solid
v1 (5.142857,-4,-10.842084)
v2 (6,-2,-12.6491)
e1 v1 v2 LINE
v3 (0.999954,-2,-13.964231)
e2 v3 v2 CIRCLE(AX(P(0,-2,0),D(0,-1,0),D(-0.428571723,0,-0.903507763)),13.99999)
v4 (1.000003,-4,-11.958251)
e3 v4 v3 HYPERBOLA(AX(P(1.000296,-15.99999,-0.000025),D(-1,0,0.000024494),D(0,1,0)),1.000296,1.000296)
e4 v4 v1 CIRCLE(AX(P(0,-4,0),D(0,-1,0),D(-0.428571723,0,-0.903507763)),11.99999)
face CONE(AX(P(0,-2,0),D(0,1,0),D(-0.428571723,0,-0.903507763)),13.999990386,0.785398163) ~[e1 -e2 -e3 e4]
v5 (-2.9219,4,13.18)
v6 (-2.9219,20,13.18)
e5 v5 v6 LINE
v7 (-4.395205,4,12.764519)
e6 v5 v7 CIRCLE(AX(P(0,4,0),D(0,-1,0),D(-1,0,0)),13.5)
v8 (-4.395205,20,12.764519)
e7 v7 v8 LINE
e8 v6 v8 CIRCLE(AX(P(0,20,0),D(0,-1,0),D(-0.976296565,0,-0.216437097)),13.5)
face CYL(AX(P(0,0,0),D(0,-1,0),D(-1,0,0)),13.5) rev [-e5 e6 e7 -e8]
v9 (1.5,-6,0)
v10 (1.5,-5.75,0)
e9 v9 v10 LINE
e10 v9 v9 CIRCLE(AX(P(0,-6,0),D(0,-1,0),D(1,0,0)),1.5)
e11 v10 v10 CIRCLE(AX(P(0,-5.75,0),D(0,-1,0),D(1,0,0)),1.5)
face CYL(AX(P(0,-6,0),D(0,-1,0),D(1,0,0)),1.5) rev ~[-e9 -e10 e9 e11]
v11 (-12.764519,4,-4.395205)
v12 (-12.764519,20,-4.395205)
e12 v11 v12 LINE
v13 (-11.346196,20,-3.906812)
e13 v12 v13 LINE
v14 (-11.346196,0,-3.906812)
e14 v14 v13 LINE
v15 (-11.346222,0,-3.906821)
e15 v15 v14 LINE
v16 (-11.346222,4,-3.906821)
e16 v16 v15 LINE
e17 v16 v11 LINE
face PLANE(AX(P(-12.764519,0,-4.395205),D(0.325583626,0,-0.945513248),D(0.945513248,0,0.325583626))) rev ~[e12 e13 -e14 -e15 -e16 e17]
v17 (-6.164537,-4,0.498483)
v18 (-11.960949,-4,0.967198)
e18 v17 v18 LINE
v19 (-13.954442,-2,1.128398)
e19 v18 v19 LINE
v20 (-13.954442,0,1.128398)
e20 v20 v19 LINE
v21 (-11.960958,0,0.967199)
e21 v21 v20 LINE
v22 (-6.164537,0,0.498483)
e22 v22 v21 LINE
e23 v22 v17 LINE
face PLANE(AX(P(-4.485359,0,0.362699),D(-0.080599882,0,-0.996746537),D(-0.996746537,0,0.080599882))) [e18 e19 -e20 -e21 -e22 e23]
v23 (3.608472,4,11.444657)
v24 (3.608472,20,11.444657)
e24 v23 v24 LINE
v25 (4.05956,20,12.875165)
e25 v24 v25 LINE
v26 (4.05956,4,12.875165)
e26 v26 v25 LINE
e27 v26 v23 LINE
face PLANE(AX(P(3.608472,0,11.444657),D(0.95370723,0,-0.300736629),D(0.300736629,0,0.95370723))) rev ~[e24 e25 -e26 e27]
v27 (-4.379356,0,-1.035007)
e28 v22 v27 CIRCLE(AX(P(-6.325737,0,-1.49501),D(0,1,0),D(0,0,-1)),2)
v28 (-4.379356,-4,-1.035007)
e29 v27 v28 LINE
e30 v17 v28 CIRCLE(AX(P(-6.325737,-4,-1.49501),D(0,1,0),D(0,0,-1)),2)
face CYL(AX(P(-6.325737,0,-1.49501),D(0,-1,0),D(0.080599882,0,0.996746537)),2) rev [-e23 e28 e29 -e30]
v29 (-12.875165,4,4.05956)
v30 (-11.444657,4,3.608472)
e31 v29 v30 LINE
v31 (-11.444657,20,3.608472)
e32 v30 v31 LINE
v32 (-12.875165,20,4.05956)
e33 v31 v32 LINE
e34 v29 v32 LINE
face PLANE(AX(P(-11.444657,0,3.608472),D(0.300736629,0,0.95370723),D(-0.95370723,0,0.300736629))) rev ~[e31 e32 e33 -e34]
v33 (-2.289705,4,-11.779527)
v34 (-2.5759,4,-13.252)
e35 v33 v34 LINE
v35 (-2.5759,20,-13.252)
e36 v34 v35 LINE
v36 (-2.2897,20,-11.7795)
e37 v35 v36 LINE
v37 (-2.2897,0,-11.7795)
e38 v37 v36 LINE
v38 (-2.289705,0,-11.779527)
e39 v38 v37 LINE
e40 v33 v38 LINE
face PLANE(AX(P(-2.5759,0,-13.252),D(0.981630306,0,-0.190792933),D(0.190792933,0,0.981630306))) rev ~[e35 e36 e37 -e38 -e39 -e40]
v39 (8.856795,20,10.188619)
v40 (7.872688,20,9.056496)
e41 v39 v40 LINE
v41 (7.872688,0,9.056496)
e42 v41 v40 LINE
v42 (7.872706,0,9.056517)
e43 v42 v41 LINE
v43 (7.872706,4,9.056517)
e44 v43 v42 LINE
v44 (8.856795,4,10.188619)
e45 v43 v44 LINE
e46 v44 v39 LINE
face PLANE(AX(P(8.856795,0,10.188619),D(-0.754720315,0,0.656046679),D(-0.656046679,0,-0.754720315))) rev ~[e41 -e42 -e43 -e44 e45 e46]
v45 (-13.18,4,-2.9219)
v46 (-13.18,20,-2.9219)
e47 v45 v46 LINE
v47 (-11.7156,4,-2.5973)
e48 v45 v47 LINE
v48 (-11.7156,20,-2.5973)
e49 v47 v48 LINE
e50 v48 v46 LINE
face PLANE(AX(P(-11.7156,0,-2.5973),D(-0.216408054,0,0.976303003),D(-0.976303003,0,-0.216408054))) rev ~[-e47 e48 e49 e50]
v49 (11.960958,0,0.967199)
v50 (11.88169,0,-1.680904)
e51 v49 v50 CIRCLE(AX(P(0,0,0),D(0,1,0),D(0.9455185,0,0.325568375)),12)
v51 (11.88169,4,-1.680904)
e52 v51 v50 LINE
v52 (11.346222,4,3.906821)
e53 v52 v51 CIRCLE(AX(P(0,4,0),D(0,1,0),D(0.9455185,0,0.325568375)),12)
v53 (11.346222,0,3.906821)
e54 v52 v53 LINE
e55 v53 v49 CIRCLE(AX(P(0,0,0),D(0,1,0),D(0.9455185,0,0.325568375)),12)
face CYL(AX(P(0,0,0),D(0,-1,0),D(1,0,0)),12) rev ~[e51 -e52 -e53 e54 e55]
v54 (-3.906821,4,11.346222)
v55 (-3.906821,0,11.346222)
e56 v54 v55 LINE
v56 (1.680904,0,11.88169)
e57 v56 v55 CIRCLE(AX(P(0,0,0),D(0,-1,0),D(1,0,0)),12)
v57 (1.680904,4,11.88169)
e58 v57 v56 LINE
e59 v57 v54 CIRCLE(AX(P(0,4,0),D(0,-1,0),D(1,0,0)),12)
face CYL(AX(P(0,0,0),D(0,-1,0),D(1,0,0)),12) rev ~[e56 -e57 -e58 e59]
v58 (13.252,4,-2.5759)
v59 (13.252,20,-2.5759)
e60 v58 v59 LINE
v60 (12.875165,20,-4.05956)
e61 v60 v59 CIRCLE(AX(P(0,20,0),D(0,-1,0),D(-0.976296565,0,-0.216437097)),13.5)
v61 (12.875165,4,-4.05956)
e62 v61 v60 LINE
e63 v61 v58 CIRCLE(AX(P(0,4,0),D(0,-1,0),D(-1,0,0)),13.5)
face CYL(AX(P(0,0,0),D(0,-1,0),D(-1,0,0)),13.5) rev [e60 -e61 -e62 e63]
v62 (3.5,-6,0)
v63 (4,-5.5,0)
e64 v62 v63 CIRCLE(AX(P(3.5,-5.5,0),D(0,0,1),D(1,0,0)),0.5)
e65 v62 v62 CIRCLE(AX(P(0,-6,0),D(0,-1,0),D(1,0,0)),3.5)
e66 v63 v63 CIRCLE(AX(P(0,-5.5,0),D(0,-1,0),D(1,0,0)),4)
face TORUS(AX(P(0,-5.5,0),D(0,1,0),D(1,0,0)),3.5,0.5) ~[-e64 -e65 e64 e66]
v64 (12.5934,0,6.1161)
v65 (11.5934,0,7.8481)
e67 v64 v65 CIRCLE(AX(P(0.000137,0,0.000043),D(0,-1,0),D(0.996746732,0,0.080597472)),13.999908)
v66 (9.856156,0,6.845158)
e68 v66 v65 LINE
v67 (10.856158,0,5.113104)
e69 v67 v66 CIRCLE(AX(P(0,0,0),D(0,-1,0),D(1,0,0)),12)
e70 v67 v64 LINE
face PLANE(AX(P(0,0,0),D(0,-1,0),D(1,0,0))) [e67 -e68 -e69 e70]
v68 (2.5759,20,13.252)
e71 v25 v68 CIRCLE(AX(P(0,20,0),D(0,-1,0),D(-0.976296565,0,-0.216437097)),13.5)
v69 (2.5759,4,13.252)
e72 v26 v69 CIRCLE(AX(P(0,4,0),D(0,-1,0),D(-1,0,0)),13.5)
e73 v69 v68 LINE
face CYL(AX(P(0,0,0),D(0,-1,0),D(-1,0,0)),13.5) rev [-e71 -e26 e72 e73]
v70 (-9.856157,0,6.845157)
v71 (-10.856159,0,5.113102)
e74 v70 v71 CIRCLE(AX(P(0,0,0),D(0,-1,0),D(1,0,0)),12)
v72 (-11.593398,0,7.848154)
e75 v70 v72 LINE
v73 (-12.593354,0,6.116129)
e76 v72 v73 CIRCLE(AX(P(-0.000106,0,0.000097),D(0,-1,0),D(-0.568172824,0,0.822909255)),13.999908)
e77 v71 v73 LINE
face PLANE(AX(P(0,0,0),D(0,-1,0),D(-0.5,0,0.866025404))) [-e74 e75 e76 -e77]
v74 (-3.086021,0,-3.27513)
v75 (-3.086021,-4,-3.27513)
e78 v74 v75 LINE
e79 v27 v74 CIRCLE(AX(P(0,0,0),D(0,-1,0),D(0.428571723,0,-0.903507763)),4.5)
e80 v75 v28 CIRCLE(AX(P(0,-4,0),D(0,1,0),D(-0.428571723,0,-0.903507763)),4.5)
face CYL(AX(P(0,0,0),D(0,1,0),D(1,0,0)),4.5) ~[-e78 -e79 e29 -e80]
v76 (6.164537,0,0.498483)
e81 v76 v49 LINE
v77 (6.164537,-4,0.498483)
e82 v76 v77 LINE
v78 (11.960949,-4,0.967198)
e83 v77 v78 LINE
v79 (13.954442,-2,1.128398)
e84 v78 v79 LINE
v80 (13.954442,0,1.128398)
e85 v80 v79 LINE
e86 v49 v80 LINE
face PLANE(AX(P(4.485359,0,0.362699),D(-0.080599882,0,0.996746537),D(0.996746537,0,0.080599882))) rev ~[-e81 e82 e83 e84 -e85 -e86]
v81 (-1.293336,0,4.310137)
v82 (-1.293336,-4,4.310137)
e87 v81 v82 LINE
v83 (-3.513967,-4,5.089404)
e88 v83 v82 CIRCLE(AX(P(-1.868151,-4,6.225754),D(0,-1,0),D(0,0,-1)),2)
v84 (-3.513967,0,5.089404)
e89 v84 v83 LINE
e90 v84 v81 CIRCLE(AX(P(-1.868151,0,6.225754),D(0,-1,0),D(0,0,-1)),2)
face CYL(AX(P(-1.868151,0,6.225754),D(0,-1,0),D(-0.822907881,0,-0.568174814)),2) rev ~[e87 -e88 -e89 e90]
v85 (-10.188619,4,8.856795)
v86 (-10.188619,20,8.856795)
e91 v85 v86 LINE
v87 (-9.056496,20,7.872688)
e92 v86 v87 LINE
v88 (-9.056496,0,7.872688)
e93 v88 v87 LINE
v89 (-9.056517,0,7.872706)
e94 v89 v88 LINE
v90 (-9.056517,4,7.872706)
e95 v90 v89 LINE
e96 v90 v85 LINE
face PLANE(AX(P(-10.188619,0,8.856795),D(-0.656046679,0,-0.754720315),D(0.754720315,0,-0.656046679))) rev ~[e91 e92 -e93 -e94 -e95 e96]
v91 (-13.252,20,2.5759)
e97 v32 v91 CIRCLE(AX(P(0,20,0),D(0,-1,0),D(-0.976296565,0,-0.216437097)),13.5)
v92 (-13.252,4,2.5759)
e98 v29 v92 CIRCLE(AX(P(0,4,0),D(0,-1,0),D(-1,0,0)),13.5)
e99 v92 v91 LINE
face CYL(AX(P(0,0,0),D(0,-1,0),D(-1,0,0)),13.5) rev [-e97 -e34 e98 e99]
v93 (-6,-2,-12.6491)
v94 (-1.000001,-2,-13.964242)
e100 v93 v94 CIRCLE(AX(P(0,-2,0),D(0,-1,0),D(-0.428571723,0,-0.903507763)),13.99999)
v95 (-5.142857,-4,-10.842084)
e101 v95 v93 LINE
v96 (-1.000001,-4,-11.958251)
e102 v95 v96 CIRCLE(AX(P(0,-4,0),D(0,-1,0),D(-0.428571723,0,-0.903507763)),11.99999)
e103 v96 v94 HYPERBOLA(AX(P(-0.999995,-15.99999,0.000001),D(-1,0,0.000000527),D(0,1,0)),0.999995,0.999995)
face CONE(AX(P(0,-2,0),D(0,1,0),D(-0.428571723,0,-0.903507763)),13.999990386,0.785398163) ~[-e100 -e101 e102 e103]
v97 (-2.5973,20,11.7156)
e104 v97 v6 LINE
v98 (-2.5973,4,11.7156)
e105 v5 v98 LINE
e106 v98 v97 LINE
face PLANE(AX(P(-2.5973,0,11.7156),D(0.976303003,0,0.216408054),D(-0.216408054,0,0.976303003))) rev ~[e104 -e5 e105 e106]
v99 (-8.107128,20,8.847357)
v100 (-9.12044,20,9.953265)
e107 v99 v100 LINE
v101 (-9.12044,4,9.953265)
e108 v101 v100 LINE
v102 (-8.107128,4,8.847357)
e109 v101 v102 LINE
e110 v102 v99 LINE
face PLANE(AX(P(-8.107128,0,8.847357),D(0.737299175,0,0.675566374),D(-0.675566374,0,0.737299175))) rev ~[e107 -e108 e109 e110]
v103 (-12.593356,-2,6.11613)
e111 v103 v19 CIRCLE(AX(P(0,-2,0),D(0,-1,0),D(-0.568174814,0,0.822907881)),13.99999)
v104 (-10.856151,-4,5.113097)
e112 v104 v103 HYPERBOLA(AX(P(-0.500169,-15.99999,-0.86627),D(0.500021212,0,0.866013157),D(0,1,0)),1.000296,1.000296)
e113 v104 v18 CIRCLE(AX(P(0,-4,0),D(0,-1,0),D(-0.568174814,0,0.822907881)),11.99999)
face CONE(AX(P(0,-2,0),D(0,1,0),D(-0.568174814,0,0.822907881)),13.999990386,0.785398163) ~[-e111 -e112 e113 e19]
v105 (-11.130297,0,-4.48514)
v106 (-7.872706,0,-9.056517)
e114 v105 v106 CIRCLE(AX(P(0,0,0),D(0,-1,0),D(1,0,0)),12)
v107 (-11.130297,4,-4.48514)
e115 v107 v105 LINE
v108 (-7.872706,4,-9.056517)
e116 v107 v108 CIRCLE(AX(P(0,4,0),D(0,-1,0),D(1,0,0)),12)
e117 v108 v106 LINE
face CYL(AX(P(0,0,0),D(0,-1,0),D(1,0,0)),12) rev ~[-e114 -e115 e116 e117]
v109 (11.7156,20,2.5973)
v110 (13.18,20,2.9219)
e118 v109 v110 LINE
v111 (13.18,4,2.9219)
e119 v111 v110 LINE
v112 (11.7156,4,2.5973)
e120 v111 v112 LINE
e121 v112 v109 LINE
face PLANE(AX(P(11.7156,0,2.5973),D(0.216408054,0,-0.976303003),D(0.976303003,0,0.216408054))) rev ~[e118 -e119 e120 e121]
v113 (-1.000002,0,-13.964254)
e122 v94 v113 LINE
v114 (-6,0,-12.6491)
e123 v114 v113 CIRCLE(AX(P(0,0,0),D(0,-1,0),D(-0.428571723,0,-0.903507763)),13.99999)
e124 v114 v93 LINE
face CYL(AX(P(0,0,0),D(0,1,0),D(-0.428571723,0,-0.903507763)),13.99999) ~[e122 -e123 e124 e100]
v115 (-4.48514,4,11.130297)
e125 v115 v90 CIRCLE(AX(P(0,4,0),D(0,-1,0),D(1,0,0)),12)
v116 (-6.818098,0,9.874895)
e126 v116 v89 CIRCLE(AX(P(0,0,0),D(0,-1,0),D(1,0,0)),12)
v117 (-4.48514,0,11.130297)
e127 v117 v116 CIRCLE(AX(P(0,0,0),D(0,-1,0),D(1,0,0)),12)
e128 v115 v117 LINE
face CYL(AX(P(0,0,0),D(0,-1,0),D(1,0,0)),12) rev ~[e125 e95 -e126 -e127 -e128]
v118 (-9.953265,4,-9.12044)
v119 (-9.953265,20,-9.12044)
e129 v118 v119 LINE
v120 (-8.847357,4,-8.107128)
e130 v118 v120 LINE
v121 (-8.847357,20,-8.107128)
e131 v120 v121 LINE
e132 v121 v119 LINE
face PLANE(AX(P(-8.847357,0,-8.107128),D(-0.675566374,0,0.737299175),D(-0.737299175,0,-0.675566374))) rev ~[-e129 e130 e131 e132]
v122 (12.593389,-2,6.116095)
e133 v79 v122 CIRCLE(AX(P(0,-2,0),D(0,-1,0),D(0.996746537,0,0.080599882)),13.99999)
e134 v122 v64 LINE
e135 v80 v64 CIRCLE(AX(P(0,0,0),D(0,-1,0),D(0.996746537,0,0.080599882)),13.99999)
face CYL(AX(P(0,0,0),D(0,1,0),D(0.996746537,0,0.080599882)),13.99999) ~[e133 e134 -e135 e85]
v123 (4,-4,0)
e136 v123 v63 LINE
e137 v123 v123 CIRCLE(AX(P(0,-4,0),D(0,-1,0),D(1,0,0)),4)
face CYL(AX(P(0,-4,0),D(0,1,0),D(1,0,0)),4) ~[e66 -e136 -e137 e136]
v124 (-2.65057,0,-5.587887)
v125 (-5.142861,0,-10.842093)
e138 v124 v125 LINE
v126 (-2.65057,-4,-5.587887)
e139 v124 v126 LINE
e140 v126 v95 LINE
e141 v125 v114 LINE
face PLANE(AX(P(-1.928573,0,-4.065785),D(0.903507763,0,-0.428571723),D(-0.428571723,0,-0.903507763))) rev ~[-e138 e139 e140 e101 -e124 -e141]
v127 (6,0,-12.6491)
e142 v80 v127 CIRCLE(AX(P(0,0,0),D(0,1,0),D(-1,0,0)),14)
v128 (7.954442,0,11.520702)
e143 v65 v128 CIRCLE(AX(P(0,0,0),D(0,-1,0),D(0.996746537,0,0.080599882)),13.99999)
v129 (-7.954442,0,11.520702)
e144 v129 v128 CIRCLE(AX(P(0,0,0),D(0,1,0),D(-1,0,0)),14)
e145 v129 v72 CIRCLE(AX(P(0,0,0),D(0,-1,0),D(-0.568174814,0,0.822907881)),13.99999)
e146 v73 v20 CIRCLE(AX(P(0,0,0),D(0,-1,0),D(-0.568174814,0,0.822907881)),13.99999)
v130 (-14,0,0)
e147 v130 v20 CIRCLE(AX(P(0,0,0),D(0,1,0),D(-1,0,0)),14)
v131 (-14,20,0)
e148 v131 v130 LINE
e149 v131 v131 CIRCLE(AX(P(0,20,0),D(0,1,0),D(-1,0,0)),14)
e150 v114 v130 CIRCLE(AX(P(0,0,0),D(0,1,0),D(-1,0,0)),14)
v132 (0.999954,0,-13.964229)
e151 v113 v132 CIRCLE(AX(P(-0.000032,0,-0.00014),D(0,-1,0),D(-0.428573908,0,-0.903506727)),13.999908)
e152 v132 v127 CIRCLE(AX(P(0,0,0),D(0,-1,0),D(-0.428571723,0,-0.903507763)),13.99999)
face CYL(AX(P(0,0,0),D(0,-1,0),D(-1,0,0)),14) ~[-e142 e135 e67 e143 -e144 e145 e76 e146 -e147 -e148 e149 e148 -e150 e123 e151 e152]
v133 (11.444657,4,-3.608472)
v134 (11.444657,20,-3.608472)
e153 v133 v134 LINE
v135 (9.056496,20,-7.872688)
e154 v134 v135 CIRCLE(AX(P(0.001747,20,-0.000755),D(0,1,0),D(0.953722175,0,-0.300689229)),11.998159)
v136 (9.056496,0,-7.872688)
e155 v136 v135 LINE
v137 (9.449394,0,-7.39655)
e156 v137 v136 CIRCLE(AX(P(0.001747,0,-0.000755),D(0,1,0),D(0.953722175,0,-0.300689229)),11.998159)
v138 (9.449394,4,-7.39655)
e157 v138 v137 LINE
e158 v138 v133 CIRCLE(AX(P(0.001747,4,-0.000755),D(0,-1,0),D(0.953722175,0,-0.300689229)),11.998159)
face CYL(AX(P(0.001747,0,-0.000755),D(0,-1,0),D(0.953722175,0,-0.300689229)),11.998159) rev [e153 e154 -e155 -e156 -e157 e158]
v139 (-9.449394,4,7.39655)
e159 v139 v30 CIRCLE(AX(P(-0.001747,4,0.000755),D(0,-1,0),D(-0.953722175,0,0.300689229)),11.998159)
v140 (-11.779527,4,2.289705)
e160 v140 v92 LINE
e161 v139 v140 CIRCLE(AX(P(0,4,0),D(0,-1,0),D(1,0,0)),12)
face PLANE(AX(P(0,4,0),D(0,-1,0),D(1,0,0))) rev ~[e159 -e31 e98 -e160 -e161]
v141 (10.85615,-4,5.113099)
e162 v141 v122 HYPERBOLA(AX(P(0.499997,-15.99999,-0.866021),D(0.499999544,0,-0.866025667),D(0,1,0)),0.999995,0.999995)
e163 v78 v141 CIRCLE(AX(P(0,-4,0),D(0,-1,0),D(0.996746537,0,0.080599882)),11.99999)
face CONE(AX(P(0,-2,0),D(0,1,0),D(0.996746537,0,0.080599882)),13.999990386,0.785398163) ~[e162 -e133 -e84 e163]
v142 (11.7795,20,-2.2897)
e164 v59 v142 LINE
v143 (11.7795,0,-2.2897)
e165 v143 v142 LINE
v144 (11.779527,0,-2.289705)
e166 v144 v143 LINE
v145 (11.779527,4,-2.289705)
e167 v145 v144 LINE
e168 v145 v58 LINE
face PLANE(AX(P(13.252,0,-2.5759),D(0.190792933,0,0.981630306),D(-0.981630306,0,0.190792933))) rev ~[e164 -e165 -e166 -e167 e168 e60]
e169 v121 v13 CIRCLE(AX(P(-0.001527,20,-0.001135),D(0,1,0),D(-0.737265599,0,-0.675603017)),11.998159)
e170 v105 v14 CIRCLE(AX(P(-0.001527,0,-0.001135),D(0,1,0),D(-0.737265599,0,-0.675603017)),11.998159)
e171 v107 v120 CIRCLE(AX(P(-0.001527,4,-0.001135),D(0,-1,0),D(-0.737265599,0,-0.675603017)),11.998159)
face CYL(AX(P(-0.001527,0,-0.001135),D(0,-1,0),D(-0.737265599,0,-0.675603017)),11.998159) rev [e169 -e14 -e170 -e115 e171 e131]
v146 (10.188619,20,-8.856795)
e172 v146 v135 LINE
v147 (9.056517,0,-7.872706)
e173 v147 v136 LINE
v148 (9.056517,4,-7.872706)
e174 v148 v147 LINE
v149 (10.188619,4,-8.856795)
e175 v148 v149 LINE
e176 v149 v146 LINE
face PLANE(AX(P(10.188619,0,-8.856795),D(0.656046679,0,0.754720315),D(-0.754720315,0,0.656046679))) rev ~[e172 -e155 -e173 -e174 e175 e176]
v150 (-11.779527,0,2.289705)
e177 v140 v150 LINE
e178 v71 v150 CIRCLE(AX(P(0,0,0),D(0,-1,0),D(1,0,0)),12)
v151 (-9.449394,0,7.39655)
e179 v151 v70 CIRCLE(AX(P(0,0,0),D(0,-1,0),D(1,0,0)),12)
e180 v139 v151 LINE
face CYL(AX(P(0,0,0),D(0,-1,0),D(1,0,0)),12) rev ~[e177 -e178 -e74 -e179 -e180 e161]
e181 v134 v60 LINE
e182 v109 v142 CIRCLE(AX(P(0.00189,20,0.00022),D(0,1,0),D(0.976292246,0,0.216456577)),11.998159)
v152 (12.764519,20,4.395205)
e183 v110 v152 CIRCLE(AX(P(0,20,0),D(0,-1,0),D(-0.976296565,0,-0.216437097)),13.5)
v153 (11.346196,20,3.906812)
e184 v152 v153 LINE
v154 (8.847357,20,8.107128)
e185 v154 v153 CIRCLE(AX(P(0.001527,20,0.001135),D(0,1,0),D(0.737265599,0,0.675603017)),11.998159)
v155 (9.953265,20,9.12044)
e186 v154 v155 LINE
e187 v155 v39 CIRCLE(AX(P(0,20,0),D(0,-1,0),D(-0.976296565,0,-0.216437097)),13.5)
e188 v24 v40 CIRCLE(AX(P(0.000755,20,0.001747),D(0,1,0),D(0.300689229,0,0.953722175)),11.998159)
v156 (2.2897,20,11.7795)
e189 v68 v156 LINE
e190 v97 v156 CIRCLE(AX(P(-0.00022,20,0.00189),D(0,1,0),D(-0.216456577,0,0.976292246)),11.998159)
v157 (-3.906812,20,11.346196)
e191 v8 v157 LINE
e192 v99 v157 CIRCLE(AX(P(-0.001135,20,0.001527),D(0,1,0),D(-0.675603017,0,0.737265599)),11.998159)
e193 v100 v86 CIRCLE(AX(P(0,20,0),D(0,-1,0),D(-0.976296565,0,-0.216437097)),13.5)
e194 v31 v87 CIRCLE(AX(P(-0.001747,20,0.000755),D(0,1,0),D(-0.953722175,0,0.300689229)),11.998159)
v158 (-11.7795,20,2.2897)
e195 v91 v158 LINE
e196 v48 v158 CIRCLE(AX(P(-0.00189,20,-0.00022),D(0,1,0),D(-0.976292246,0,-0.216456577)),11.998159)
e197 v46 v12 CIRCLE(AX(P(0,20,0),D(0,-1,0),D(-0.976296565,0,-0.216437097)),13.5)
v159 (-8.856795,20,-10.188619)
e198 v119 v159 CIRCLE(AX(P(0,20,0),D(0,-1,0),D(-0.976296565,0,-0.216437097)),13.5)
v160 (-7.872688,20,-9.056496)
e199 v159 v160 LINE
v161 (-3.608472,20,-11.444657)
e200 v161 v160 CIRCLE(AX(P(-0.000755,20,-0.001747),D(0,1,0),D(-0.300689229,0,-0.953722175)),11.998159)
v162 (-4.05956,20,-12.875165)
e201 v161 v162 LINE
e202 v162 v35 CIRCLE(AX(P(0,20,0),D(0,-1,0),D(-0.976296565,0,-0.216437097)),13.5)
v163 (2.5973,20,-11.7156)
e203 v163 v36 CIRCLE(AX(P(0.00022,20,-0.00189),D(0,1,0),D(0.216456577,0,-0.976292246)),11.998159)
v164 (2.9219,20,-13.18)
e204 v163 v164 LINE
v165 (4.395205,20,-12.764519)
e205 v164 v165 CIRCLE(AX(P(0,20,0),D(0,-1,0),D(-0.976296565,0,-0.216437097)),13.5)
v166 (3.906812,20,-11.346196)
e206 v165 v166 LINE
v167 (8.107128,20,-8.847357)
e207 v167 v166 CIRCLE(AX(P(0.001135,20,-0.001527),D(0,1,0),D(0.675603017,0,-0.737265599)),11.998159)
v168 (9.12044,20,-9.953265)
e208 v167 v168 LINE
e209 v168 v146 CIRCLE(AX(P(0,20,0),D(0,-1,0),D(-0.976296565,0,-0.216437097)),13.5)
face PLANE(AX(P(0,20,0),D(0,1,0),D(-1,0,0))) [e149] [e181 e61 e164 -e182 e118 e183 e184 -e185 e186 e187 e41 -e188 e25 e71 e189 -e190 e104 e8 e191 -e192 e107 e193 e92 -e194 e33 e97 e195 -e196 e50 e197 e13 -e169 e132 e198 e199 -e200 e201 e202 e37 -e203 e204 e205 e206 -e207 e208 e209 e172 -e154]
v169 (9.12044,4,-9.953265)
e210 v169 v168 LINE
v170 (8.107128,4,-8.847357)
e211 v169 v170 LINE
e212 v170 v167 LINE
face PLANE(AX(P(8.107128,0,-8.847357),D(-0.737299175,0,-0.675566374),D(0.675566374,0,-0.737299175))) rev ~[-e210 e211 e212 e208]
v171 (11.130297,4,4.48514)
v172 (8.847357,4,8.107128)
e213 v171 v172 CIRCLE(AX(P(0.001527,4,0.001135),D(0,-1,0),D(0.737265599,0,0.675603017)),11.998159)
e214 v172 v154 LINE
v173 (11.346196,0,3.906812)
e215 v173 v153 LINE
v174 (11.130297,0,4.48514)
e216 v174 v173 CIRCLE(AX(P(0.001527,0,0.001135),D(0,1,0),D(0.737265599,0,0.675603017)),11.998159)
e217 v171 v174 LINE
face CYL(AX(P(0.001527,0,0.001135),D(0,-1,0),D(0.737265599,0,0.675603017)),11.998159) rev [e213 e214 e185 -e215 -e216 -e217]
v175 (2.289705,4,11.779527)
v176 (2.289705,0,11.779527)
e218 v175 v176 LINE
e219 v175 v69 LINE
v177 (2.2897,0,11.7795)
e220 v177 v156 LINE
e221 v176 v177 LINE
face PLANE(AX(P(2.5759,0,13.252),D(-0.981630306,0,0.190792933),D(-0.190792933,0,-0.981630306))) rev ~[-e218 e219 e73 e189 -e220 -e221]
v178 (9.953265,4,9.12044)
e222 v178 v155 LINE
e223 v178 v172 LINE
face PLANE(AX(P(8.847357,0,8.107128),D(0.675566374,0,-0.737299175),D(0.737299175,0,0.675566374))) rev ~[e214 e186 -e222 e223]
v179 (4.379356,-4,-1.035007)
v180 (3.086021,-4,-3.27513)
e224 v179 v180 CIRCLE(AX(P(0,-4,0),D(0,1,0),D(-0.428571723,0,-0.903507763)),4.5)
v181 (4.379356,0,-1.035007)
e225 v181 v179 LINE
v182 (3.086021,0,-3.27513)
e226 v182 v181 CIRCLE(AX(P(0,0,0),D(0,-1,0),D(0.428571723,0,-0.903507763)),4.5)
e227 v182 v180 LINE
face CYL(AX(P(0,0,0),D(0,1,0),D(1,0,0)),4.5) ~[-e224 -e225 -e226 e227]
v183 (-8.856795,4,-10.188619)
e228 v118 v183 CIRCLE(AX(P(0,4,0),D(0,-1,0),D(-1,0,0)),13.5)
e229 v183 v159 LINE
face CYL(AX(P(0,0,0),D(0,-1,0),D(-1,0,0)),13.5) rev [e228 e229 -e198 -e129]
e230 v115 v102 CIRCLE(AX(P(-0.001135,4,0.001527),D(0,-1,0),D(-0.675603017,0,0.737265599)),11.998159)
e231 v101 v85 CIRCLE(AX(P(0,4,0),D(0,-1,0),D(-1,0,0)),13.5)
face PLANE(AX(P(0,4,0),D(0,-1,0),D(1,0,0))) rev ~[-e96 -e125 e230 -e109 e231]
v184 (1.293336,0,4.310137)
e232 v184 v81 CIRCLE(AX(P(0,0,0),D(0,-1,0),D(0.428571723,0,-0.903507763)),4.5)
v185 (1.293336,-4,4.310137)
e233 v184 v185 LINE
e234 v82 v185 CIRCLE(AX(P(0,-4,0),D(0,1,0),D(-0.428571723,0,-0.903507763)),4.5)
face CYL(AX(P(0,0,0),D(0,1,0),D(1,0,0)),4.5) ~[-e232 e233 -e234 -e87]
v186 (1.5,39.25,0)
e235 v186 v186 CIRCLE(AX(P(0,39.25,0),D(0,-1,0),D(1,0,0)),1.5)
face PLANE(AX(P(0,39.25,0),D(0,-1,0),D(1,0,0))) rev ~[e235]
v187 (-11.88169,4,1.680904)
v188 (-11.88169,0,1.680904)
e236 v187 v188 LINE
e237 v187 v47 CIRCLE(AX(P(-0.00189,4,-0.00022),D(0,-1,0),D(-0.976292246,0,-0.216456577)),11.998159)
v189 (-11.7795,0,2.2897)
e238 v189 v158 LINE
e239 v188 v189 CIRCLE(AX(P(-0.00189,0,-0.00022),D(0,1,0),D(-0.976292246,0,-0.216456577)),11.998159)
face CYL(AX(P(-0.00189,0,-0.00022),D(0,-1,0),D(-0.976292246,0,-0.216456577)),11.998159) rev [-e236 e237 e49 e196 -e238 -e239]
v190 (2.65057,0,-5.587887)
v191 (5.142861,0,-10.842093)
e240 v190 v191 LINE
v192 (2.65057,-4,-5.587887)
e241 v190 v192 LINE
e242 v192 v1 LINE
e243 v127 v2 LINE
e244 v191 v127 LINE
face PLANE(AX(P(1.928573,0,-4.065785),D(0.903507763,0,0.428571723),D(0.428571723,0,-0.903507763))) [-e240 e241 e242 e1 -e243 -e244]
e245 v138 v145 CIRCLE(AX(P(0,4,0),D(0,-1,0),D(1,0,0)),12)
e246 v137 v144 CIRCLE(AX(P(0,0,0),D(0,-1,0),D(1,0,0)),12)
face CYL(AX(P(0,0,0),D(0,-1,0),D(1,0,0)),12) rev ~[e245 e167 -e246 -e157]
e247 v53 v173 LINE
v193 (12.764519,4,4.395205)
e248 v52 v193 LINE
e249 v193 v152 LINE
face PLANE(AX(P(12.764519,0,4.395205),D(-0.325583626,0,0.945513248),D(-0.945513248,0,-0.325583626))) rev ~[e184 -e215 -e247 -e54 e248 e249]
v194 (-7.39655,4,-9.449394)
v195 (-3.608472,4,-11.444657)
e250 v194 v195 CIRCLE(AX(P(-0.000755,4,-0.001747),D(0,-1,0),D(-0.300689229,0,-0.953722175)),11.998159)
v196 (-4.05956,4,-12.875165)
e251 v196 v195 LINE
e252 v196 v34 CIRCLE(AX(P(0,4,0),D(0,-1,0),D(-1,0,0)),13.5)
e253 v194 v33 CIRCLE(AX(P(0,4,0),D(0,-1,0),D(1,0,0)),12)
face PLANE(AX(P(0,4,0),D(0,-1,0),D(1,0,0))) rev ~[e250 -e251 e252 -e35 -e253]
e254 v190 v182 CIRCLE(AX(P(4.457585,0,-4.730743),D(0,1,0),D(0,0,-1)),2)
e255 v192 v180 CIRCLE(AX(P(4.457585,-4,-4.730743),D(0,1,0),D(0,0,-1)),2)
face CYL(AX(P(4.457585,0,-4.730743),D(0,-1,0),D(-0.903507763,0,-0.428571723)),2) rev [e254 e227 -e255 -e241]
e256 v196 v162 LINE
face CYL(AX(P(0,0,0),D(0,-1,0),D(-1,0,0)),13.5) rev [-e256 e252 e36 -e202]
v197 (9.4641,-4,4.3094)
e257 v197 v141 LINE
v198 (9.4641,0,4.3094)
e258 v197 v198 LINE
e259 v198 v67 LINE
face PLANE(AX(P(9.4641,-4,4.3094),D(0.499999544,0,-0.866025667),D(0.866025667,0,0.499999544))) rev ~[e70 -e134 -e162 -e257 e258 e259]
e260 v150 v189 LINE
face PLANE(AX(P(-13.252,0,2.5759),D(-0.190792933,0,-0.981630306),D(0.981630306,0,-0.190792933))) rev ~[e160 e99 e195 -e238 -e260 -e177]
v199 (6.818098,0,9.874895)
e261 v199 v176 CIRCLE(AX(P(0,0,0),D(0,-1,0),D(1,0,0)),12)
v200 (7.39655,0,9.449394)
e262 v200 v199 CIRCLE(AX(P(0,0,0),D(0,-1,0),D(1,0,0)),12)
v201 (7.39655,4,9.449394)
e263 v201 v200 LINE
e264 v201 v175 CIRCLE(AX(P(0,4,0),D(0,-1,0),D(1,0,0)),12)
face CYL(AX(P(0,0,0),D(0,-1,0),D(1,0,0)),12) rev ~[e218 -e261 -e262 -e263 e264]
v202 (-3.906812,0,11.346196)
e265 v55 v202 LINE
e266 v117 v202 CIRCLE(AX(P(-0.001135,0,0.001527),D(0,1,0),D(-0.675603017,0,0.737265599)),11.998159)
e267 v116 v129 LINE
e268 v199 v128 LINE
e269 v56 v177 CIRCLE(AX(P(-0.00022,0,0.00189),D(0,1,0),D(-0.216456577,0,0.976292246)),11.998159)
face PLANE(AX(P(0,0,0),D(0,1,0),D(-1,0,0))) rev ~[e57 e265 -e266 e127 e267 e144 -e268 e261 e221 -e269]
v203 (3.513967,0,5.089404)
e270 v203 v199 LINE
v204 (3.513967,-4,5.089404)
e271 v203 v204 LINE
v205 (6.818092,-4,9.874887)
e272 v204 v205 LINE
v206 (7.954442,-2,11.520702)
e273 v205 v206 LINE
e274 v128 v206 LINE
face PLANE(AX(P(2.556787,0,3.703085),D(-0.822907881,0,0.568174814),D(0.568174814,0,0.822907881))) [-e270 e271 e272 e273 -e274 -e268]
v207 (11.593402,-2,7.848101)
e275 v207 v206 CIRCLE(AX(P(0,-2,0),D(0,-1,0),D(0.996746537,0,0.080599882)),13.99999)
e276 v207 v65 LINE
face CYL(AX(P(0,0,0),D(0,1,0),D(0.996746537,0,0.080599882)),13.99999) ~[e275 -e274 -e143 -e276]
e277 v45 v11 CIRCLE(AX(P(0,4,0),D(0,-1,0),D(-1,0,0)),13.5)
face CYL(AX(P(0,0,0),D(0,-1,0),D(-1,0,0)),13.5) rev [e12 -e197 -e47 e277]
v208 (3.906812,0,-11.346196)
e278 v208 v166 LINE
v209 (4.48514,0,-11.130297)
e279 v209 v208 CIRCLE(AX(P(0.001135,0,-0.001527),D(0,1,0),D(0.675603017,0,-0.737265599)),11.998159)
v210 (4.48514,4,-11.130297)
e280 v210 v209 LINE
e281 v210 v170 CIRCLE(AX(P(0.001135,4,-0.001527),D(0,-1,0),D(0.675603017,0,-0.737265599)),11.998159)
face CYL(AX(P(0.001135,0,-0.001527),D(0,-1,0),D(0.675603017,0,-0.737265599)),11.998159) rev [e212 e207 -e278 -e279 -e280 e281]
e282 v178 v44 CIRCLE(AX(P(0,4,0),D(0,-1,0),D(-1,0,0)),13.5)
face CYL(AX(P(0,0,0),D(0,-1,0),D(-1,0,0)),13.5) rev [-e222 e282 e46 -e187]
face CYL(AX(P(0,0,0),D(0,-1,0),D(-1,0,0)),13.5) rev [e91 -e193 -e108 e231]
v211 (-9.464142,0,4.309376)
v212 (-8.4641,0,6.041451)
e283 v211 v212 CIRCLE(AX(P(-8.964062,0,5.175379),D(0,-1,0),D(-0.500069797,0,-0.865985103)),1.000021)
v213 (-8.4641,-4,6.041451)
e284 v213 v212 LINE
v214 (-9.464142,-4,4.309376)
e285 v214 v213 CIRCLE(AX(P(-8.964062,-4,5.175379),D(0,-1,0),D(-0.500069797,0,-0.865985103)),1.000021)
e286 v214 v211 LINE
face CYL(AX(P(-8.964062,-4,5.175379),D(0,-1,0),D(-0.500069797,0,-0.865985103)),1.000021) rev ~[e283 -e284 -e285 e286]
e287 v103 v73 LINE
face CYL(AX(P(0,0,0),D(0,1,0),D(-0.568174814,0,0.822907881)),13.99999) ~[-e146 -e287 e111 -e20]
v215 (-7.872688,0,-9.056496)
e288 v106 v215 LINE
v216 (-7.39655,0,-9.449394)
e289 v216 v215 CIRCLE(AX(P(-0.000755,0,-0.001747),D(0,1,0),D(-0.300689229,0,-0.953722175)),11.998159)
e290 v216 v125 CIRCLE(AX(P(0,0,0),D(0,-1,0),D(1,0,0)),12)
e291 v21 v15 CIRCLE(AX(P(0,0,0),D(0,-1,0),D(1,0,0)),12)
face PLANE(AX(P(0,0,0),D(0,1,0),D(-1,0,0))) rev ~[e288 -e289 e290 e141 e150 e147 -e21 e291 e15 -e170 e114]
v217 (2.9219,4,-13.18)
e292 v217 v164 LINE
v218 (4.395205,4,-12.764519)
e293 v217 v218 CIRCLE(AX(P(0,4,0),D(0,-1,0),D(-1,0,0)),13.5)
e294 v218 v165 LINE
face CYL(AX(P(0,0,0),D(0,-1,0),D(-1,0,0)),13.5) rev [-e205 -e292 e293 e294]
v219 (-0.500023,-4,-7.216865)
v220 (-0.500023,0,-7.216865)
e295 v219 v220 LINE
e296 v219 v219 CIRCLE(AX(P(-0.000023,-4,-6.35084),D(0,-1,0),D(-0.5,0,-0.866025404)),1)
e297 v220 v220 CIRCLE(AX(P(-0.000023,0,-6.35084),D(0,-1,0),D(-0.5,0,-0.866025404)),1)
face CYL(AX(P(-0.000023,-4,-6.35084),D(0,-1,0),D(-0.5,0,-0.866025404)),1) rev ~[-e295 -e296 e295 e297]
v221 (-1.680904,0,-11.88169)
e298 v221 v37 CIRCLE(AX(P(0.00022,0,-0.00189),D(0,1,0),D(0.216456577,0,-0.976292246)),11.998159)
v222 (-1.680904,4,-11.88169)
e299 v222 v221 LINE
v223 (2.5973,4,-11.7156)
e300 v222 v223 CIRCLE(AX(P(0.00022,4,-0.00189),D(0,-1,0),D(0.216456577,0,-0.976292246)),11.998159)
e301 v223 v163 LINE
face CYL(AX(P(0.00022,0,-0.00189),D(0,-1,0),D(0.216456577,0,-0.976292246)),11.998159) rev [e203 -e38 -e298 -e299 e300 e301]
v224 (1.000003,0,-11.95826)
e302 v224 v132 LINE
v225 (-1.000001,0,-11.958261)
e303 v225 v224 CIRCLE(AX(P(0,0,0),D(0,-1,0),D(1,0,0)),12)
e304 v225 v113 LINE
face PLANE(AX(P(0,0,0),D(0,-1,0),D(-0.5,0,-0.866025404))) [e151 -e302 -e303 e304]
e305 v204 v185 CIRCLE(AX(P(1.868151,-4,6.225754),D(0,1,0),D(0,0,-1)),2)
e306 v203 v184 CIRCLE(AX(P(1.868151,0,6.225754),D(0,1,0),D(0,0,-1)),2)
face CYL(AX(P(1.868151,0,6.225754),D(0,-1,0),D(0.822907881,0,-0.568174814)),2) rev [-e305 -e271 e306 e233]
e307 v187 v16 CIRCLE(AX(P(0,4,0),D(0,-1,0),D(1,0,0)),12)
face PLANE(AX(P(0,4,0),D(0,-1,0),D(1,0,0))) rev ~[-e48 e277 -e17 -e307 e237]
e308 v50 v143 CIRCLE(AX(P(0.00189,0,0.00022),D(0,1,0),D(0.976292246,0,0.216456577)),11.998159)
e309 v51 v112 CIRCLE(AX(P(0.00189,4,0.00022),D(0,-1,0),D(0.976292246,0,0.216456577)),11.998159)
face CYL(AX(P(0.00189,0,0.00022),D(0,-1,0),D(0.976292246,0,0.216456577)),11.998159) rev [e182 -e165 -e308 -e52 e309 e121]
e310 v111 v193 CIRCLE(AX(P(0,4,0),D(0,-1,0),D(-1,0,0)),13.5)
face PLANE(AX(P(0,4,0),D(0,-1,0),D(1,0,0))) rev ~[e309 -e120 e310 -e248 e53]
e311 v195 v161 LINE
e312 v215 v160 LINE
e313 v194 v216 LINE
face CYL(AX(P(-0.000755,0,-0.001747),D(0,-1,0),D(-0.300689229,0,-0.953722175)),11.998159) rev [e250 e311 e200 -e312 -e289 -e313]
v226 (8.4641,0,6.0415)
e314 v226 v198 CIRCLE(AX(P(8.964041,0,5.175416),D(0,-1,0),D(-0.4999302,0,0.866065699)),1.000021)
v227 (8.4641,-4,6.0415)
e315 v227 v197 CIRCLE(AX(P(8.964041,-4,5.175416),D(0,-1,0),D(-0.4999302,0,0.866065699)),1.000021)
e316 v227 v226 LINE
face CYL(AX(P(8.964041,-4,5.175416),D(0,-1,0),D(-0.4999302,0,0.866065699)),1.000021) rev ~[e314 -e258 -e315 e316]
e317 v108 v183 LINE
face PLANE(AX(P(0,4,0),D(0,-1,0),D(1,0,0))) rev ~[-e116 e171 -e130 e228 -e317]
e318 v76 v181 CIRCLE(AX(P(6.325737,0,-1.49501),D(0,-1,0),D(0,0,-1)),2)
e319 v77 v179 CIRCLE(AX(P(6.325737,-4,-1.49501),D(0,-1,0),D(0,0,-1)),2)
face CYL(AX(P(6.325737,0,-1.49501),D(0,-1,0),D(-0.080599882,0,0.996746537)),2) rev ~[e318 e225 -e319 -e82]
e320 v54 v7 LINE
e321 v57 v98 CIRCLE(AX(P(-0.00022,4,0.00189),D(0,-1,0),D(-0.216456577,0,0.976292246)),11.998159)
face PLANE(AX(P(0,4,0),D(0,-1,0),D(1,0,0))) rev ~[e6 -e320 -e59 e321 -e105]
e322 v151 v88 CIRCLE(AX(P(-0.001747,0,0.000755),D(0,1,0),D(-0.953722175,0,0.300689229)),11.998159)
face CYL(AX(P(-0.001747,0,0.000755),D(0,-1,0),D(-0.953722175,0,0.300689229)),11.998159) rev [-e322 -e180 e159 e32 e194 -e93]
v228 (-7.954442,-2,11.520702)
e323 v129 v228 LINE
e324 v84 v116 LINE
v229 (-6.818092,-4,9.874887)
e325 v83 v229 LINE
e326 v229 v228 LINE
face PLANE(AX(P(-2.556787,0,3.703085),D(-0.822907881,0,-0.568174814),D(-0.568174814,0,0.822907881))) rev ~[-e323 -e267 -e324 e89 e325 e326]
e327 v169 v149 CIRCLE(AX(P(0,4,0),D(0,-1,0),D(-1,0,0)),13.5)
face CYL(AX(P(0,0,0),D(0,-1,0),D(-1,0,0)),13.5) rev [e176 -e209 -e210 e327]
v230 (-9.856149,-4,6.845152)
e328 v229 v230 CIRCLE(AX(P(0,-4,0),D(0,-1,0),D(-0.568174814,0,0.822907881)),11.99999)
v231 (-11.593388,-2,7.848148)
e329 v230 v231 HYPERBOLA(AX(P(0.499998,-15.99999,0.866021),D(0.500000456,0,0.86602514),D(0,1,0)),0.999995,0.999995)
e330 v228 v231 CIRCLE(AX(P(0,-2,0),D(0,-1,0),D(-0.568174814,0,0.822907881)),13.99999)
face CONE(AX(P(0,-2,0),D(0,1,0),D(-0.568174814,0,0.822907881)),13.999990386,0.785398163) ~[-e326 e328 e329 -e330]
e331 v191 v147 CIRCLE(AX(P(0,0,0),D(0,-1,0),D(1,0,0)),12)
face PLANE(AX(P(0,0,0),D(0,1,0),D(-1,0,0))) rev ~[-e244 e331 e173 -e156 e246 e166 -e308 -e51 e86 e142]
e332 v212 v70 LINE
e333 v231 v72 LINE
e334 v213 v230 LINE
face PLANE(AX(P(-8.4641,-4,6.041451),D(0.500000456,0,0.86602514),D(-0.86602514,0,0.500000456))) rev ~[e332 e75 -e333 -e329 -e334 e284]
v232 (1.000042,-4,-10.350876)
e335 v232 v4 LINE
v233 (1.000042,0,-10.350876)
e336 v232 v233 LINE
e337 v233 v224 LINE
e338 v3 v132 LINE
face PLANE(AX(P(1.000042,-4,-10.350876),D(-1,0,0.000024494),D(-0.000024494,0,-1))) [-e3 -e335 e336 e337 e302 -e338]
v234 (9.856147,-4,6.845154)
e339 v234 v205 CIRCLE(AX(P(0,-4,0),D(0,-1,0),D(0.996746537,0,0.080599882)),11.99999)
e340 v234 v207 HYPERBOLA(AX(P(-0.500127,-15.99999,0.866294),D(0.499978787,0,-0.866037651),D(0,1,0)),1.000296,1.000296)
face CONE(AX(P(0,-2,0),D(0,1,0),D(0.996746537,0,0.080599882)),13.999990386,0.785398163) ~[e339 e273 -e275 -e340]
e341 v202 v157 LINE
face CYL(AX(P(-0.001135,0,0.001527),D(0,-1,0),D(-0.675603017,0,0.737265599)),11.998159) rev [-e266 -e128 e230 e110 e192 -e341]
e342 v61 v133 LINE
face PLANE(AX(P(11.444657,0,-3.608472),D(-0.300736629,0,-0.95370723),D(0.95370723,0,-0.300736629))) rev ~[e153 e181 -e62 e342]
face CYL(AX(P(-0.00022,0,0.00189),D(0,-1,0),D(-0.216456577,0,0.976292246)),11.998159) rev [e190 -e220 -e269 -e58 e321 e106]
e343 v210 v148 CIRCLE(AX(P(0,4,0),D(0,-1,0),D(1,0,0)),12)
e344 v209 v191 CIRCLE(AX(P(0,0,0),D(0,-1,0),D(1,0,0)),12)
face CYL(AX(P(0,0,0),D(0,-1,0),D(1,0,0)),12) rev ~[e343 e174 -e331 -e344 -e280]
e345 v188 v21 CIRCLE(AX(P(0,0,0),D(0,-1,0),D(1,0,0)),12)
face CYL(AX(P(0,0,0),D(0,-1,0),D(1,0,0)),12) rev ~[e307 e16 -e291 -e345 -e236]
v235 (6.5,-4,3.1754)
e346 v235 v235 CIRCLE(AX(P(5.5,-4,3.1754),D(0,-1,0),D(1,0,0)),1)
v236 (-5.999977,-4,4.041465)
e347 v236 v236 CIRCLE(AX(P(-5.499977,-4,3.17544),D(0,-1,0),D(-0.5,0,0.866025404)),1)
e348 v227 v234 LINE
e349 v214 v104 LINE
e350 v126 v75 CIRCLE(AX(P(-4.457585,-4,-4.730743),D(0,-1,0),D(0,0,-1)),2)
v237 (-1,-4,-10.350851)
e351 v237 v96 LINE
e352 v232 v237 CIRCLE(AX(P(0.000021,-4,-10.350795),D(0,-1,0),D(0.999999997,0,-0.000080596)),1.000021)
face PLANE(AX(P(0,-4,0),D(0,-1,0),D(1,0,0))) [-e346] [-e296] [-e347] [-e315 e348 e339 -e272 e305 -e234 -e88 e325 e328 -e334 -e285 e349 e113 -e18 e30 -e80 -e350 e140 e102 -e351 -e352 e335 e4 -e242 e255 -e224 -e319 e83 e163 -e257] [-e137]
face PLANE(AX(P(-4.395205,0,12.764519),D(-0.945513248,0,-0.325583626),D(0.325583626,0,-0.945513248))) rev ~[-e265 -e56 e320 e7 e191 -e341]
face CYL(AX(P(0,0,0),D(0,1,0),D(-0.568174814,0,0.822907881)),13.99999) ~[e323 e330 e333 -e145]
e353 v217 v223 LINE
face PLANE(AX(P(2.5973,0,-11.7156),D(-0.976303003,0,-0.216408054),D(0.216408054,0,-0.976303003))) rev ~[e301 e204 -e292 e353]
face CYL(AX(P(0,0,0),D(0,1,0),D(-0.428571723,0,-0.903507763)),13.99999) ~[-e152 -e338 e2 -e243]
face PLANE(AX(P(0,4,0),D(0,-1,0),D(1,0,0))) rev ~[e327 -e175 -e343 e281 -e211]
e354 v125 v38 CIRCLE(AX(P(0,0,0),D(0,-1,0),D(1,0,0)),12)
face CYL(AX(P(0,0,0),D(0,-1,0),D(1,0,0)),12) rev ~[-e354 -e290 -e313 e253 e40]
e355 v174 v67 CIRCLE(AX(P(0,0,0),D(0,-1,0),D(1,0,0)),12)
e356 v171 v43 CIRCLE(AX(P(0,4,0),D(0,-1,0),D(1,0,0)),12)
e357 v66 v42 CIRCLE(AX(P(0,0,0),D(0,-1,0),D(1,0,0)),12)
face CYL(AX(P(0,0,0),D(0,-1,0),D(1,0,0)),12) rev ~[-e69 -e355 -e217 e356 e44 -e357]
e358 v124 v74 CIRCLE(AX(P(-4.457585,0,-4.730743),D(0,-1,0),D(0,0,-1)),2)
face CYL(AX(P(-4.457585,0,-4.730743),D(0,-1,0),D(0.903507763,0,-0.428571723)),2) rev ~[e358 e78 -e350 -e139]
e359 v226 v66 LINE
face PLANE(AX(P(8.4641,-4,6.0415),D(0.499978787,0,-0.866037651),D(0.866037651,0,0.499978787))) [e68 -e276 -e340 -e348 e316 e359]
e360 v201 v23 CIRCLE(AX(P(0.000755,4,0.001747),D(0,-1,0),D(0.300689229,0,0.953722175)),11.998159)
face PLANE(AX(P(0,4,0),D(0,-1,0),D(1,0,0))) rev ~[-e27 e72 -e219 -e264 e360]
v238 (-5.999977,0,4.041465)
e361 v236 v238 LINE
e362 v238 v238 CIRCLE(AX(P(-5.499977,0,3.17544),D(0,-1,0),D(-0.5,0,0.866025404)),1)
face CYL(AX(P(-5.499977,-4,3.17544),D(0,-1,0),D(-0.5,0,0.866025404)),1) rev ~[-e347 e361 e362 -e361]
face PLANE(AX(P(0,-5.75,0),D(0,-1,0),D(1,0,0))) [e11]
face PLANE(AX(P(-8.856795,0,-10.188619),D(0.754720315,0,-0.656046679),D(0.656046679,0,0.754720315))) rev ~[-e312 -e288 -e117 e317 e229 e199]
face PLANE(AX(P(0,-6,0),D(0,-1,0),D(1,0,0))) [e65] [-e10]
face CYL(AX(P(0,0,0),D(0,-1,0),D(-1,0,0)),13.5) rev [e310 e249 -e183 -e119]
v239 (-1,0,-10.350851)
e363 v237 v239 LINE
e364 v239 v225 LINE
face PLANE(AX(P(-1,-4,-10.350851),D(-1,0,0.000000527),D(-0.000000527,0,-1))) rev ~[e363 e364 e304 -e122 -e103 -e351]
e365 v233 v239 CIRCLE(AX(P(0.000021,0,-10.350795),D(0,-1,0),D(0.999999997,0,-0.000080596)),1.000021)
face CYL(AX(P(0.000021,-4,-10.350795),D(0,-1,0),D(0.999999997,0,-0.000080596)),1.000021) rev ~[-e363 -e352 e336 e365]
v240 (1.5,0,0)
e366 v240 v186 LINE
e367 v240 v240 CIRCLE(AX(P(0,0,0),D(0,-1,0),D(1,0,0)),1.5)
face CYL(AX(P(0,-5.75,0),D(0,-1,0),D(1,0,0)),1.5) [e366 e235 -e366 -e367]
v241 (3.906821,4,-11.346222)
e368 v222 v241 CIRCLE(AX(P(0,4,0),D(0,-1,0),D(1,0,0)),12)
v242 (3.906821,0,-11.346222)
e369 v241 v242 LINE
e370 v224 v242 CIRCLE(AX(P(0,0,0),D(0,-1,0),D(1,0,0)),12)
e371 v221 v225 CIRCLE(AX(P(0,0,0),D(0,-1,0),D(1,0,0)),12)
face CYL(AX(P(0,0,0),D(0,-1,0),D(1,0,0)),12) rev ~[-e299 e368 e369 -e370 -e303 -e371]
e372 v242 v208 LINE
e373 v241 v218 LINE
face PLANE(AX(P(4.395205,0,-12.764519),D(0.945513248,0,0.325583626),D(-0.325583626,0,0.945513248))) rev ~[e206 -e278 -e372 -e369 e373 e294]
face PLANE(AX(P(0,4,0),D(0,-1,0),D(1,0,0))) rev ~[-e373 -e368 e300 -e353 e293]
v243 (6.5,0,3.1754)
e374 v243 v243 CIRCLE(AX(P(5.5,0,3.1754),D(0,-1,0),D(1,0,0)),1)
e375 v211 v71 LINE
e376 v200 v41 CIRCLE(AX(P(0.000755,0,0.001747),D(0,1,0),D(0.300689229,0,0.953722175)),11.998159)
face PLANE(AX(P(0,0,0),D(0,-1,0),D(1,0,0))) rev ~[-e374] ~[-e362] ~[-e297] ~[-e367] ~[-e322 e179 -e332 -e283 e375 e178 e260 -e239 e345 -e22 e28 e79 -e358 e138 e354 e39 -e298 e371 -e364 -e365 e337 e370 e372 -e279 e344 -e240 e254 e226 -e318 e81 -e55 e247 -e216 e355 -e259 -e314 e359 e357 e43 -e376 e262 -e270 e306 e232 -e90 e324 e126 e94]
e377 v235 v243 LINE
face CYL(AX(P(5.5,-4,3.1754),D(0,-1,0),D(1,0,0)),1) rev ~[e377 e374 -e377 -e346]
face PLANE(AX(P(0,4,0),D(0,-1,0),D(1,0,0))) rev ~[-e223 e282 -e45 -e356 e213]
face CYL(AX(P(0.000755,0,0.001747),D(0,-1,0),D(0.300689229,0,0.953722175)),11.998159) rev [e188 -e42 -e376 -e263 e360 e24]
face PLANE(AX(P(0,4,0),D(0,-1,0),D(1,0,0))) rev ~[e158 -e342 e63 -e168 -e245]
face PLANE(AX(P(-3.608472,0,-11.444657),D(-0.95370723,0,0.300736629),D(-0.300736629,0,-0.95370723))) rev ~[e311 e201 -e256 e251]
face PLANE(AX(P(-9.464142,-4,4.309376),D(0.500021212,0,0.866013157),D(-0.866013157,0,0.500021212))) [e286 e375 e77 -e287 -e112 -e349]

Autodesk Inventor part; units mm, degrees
ref_plane "YZ Plane" through (0, 0, 0) normal (1, 0, 0) x (0, 1, 0)
ref_plane "XZ Plane" through (0, 0, 0) normal (0, 1, 0) x (-1, 0, 0)
ref_plane "XY Plane" through (0, 0, 0) normal (0, 0, 1) x (1, 0, 0)
sketch "Sketch1" plane through (0, 0, 0) normal (0, 1, 0) x (-1, 0, 0)
  circle A0 centre (0, 0) radius 14
  arc A1 (11.7156, -2.5973) -> (11.7795, 2.2897) centre (0, 0) ccw
  line L0 (11.7156, -2.5973) -> (13.18, -2.9219)
  line L1 (13.252, 2.5759) -> (11.7795, 2.2897)
  line L2 (0, 0) -> (39.8589, 0) construction
  line L3 (11.7156, -2.5973) -> (0, 0) construction
  line L4 (11.7795, 2.2897) -> (0, 0) construction
  circle A2 centre (0, 0) radius 13.5
  arc A3 (11.4446, 3.6085) -> (9.0565, 7.8727) centre (0, 0) ccw
  line L5 (11.4446, 3.6085) -> (12.8752, 4.0595)
  line L6 (10.1886, 8.8568) -> (9.0565, 7.8727)
  arc A4 (8.1071, 8.8473) -> (3.9068, 11.3462) centre (0, 0) ccw
  line L7 (8.1071, 8.8473) -> (9.1205, 9.9532)
  line L8 (4.3952, 12.7645) -> (3.9068, 11.3462)
  arc A5 (2.5973, 11.7156) -> (-2.2897, 11.7795) centre (0, 0) ccw
  line L9 (2.5973, 11.7156) -> (2.9219, 13.18)
  line L10 (-2.5759, 13.252) -> (-2.2897, 11.7795)
  arc A6 (-3.6085, 11.4446) -> (-7.8727, 9.0565) centre (0, 0) ccw
  line L11 (-3.6085, 11.4446) -> (-4.0595, 12.8752)
  line L12 (-8.8568, 10.1886) -> (-7.8727, 9.0565)
  arc A7 (-8.8473, 8.1071) -> (-11.3462, 3.9068) centre (0, 0) ccw
  line L13 (-8.8473, 8.1071) -> (-9.9532, 9.1205)
  line L14 (-12.7645, 4.3952) -> (-11.3462, 3.9068)
  arc A8 (-11.7156, 2.5973) -> (-11.7795, -2.2897) centre (0, 0) ccw
  line L15 (-11.7156, 2.5973) -> (-13.18, 2.9219)
  line L16 (-13.252, -2.5759) -> (-11.7795, -2.2897)
  arc A9 (-11.4446, -3.6085) -> (-9.0565, -7.8727) centre (0, 0) ccw
  line L17 (-11.4446, -3.6085) -> (-12.8752, -4.0595)
  line L18 (-10.1886, -8.8568) -> (-9.0565, -7.8727)
  arc A10 (-8.1071, -8.8473) -> (-3.9068, -11.3462) centre (0, 0) ccw
  line L19 (-8.1071, -8.8473) -> (-9.1205, -9.9532)
  line L20 (-4.3952, -12.7645) -> (-3.9068, -11.3462)
  arc A11 (-2.5973, -11.7156) -> (2.2897, -11.7795) centre (0, 0) ccw
  line L21 (-2.5973, -11.7156) -> (-2.9219, -13.18)
  line L22 (2.5759, -13.252) -> (2.2897, -11.7795)
  arc A12 (3.6085, -11.4446) -> (7.8727, -9.0565) centre (0, 0) ccw
  line L23 (3.6085, -11.4446) -> (4.0595, -12.8752)
  line L24 (8.8568, -10.1886) -> (7.8727, -9.0565)
  arc A13 (8.8473, -8.1071) -> (11.3462, -3.9068) centre (0, 0) ccw
  line L25 (8.8473, -8.1071) -> (9.9532, -9.1205)
  line L26 (12.7645, -4.3952) -> (11.3462, -3.9068)
  dimension "d0" = 28
  dimension "d1" = 2
  dimension "d2" = 23.5
  dimension "d4" = 12.5
  dimension "d5" = 12.5
  dimension "d6" = 0.5
  dimension "d9" = 360
extrude "Extrusion1" add sketch "Sketch1" along normal blind 20
sketch "Sketch2" plane through (0, 0, 0) normal (0, 1, 0) x (-1, 0, 0)
  circle A0 centre (0, 0) radius 14
  arc A1 (11.7156, -2.5973) -> (11.7795, 2.2897) centre (0, 0) ccw
  line L0 (11.7156, -2.5973) -> (13.18, -2.9219)
  line L1 (13.252, 2.5759) -> (11.7795, 2.2897)
  line L2 (0, 0) -> (39.8589, 0) construction
  line L3 (11.7156, -2.5973) -> (0, 0) construction
  line L4 (11.7795, 2.2897) -> (0, 0) construction
  circle A2 centre (0, 0) radius 13.5
  arc A3 (11.4446, 3.6085) -> (9.0565, 7.8727) centre (0, 0) ccw
  line L5 (11.4446, 3.6085) -> (12.8752, 4.0595)
  line L6 (10.1886, 8.8568) -> (9.0565, 7.8727)
  arc A4 (8.1071, 8.8473) -> (3.9068, 11.3462) centre (0, 0) ccw
  line L7 (8.1071, 8.8473) -> (9.1205, 9.9532)
  line L8 (4.3952, 12.7645) -> (3.9068, 11.3462)
  arc A5 (2.5973, 11.7156) -> (-2.2897, 11.7795) centre (0, 0) ccw
  line L9 (2.5973, 11.7156) -> (2.9219, 13.18)
  line L10 (-2.5759, 13.252) -> (-2.2897, 11.7795)
  arc A6 (-3.6085, 11.4446) -> (-7.8727, 9.0565) centre (0, 0) ccw
  line L11 (-3.6085, 11.4446) -> (-4.0595, 12.8752)
  line L12 (-8.8568, 10.1886) -> (-7.8727, 9.0565)
  arc A7 (-8.8473, 8.1071) -> (-11.3462, 3.9068) centre (0, 0) ccw
  line L13 (-8.8473, 8.1071) -> (-9.9532, 9.1205)
  line L14 (-12.7645, 4.3952) -> (-11.3462, 3.9068)
  arc A8 (-11.7156, 2.5973) -> (-11.7795, -2.2897) centre (0, 0) ccw
  line L15 (-11.7156, 2.5973) -> (-13.18, 2.9219)
  line L16 (-13.252, -2.5759) -> (-11.7795, -2.2897)
  arc A9 (-11.4446, -3.6085) -> (-9.0565, -7.8727) centre (0, 0) ccw
  line L17 (-11.4446, -3.6085) -> (-12.8752, -4.0595)
  line L18 (-10.1886, -8.8568) -> (-9.0565, -7.8727)
  arc A10 (-8.1071, -8.8473) -> (-3.9068, -11.3462) centre (0, 0) ccw
  line L19 (-8.1071, -8.8473) -> (-9.1205, -9.9532)
  line L20 (-4.3952, -12.7645) -> (-3.9068, -11.3462)
  arc A11 (-2.5973, -11.7156) -> (2.2897, -11.7795) centre (0, 0) ccw
  line L21 (-2.5973, -11.7156) -> (-2.9219, -13.18)
  line L22 (2.5759, -13.252) -> (2.2897, -11.7795)
  arc A12 (3.6085, -11.4446) -> (7.8727, -9.0565) centre (0, 0) ccw
  line L23 (3.6085, -11.4446) -> (4.0595, -12.8752)
  line L24 (8.8568, -10.1886) -> (7.8727, -9.0565)
  arc A13 (8.8473, -8.1071) -> (11.3462, -3.9068) centre (0, 0) ccw
  line L25 (8.8473, -8.1071) -> (9.9532, -9.1205)
  line L26 (12.7645, -4.3952) -> (11.3462, -3.9068)
  dimension "d15" = 28
  dimension "d16" = 2
  dimension "d17" = 23.5
  dimension "d18" = 12.5
  dimension "d19" = 12.5
  dimension "d20" = 0.5
  dimension "d21" = 360
extrude "Extrusion2" add sketch "Sketch2" along normal blind 20 contours A1 L1 A2 L0
pattern_circular "Circular Pattern1" count 12 over 360 about axis through (0, 0, 0) along (0, 1, 0) of "Extrusion2"
sketch "Sketch3" plane through (0, 0, 0) normal (0, -1, 0) x (1, 0, 0)
  circle A0 centre (0, 0) radius 14
  circle A1 centre (0, 0) radius 12
  dimension "d27" = 28
  dimension "d28" = 24
extrude "Extrusion3" add sketch "Sketch3" against normal blind 4
sketch "Sketch4" plane through (0, 0, 0) normal (0, -1, 0) x (1, 0, 0)
  circle A0 centre (0, 0) radius 4.5
  line L0 (0, 0) -> (6, -12.6491)
  line L1 (0, 0) -> (-6, -12.6491)
  line L2 (0, 0) -> (0, -12.6491) construction
  line L3 (0, -12.6491) -> (6, -12.6491) construction
  line L4 (0, -12.6491) -> (-6, -12.6491) construction
  line L5 (0, 0) -> (0, -29.857) construction
  arc A1 (-6, -12.6491) -> (6, -12.6491) centre (0, 0) ccw
  dimension "d37" = 9
  dimension "d38" = 12
  dimension "d40" = 28
extrude "Extrusion4" add sketch "Sketch4" along normal blind 4
fillet "Fillet1" radius 2 2 edges at (-1.9286, -2, -4.0658) (1.9286, -2, -4.0658)
chamfer "Chamfer1" distance 2 angle 45 1 edges at (0, -4, -14)
pattern_circular "Circular Pattern2" count 3 over 360 about axis through (0, 0, 0) along (0, 1, 0) of "Extrusion4", "Chamfer1", "Fillet1"
sketch "Sketch5" plane through (0, -4, 0) normal (0, -1, 0) x (1, 0, 0)
  circle A0 centre (0, 0) radius 4
  dimension "d50" = 8
extrude "Extrusion5" add sketch "Sketch5" along normal blind 2
sketch "Sketch6" plane through (0, -6, 0) normal (0, -1, 0) x (1, 0, 0)
  circle A0 centre (0, 0) radius 1.5
  dimension "d53" = 3
extrude "Extrusion6" cut sketch "Sketch6" against normal blind 0.25
sketch "Sketch7" plane through (0, -5.75, 0) normal (0, -1, 0) x (1, 0, 0)
  circle A0 centre (0, 0) radius 1.5
extrude "Extrusion7" add sketch "Sketch7" against normal blind 45
fillet "Fillet2" radius 0.5 1 edges at (-4, -6, 0)
sketch "Sketch8" plane through (0, -4, 0) normal (0, -1, 0) x (1, 0, 0)
  circle A0 centre (0, 0) radius 1.5 projected
  line L0 (0, 0) -> (5.5, 3.1754) construction
  line L1 (5.5, 3.1754) -> (-5.5, 3.1754) construction
  line L2 (-5.5, 3.1754) -> (0, -6.3509) construction
  line L3 (0, -6.3509) -> (5.5, 3.1754) construction
  line L4 (0, -6.3509) -> (0, 0) construction
  line L5 (-5.5, 3.1754) -> (0, 0) construction
  circle A1 centre (0, -6.3509) radius 1 construction
  circle A2 centre (5.5, 3.1754) radius 1
  circle A3 centre (-5.5, 3.1754) radius 1 construction
  line L6 (5.5, 3.1754) -> (8.9641, 5.1754) construction
  arc A4 (8.4641, 6.0415) -> (9.4641, 4.3094) centre (8.9641, 5.1754) ccw
  line L7 (8.4641, 6.0415) -> (11.5934, 7.8481)
  arc A5 (13.9545, 1.1284) -> (7.9545, 11.5207) centre (0, 0) ccw projected
  line L8 (9.4641, 4.3094) -> (12.5934, 6.1161)
  dimension "d59" = 2
  dimension "d60" = 11
  dimension "d61" = 4
  dimension "d62" = 2
  dimension "d63" = 2
extrude "Extrusion8" cut sketch "Sketch8" against normal up to surface (4 mm away) contours A2 | L7 A5 L8 A4
pattern_circular "Circular Pattern3" count 3 over 360 about axis through (0, 0, 0) along (0, 1, 0) of "Extrusion8"
properties part number "BrushlessOuter"
